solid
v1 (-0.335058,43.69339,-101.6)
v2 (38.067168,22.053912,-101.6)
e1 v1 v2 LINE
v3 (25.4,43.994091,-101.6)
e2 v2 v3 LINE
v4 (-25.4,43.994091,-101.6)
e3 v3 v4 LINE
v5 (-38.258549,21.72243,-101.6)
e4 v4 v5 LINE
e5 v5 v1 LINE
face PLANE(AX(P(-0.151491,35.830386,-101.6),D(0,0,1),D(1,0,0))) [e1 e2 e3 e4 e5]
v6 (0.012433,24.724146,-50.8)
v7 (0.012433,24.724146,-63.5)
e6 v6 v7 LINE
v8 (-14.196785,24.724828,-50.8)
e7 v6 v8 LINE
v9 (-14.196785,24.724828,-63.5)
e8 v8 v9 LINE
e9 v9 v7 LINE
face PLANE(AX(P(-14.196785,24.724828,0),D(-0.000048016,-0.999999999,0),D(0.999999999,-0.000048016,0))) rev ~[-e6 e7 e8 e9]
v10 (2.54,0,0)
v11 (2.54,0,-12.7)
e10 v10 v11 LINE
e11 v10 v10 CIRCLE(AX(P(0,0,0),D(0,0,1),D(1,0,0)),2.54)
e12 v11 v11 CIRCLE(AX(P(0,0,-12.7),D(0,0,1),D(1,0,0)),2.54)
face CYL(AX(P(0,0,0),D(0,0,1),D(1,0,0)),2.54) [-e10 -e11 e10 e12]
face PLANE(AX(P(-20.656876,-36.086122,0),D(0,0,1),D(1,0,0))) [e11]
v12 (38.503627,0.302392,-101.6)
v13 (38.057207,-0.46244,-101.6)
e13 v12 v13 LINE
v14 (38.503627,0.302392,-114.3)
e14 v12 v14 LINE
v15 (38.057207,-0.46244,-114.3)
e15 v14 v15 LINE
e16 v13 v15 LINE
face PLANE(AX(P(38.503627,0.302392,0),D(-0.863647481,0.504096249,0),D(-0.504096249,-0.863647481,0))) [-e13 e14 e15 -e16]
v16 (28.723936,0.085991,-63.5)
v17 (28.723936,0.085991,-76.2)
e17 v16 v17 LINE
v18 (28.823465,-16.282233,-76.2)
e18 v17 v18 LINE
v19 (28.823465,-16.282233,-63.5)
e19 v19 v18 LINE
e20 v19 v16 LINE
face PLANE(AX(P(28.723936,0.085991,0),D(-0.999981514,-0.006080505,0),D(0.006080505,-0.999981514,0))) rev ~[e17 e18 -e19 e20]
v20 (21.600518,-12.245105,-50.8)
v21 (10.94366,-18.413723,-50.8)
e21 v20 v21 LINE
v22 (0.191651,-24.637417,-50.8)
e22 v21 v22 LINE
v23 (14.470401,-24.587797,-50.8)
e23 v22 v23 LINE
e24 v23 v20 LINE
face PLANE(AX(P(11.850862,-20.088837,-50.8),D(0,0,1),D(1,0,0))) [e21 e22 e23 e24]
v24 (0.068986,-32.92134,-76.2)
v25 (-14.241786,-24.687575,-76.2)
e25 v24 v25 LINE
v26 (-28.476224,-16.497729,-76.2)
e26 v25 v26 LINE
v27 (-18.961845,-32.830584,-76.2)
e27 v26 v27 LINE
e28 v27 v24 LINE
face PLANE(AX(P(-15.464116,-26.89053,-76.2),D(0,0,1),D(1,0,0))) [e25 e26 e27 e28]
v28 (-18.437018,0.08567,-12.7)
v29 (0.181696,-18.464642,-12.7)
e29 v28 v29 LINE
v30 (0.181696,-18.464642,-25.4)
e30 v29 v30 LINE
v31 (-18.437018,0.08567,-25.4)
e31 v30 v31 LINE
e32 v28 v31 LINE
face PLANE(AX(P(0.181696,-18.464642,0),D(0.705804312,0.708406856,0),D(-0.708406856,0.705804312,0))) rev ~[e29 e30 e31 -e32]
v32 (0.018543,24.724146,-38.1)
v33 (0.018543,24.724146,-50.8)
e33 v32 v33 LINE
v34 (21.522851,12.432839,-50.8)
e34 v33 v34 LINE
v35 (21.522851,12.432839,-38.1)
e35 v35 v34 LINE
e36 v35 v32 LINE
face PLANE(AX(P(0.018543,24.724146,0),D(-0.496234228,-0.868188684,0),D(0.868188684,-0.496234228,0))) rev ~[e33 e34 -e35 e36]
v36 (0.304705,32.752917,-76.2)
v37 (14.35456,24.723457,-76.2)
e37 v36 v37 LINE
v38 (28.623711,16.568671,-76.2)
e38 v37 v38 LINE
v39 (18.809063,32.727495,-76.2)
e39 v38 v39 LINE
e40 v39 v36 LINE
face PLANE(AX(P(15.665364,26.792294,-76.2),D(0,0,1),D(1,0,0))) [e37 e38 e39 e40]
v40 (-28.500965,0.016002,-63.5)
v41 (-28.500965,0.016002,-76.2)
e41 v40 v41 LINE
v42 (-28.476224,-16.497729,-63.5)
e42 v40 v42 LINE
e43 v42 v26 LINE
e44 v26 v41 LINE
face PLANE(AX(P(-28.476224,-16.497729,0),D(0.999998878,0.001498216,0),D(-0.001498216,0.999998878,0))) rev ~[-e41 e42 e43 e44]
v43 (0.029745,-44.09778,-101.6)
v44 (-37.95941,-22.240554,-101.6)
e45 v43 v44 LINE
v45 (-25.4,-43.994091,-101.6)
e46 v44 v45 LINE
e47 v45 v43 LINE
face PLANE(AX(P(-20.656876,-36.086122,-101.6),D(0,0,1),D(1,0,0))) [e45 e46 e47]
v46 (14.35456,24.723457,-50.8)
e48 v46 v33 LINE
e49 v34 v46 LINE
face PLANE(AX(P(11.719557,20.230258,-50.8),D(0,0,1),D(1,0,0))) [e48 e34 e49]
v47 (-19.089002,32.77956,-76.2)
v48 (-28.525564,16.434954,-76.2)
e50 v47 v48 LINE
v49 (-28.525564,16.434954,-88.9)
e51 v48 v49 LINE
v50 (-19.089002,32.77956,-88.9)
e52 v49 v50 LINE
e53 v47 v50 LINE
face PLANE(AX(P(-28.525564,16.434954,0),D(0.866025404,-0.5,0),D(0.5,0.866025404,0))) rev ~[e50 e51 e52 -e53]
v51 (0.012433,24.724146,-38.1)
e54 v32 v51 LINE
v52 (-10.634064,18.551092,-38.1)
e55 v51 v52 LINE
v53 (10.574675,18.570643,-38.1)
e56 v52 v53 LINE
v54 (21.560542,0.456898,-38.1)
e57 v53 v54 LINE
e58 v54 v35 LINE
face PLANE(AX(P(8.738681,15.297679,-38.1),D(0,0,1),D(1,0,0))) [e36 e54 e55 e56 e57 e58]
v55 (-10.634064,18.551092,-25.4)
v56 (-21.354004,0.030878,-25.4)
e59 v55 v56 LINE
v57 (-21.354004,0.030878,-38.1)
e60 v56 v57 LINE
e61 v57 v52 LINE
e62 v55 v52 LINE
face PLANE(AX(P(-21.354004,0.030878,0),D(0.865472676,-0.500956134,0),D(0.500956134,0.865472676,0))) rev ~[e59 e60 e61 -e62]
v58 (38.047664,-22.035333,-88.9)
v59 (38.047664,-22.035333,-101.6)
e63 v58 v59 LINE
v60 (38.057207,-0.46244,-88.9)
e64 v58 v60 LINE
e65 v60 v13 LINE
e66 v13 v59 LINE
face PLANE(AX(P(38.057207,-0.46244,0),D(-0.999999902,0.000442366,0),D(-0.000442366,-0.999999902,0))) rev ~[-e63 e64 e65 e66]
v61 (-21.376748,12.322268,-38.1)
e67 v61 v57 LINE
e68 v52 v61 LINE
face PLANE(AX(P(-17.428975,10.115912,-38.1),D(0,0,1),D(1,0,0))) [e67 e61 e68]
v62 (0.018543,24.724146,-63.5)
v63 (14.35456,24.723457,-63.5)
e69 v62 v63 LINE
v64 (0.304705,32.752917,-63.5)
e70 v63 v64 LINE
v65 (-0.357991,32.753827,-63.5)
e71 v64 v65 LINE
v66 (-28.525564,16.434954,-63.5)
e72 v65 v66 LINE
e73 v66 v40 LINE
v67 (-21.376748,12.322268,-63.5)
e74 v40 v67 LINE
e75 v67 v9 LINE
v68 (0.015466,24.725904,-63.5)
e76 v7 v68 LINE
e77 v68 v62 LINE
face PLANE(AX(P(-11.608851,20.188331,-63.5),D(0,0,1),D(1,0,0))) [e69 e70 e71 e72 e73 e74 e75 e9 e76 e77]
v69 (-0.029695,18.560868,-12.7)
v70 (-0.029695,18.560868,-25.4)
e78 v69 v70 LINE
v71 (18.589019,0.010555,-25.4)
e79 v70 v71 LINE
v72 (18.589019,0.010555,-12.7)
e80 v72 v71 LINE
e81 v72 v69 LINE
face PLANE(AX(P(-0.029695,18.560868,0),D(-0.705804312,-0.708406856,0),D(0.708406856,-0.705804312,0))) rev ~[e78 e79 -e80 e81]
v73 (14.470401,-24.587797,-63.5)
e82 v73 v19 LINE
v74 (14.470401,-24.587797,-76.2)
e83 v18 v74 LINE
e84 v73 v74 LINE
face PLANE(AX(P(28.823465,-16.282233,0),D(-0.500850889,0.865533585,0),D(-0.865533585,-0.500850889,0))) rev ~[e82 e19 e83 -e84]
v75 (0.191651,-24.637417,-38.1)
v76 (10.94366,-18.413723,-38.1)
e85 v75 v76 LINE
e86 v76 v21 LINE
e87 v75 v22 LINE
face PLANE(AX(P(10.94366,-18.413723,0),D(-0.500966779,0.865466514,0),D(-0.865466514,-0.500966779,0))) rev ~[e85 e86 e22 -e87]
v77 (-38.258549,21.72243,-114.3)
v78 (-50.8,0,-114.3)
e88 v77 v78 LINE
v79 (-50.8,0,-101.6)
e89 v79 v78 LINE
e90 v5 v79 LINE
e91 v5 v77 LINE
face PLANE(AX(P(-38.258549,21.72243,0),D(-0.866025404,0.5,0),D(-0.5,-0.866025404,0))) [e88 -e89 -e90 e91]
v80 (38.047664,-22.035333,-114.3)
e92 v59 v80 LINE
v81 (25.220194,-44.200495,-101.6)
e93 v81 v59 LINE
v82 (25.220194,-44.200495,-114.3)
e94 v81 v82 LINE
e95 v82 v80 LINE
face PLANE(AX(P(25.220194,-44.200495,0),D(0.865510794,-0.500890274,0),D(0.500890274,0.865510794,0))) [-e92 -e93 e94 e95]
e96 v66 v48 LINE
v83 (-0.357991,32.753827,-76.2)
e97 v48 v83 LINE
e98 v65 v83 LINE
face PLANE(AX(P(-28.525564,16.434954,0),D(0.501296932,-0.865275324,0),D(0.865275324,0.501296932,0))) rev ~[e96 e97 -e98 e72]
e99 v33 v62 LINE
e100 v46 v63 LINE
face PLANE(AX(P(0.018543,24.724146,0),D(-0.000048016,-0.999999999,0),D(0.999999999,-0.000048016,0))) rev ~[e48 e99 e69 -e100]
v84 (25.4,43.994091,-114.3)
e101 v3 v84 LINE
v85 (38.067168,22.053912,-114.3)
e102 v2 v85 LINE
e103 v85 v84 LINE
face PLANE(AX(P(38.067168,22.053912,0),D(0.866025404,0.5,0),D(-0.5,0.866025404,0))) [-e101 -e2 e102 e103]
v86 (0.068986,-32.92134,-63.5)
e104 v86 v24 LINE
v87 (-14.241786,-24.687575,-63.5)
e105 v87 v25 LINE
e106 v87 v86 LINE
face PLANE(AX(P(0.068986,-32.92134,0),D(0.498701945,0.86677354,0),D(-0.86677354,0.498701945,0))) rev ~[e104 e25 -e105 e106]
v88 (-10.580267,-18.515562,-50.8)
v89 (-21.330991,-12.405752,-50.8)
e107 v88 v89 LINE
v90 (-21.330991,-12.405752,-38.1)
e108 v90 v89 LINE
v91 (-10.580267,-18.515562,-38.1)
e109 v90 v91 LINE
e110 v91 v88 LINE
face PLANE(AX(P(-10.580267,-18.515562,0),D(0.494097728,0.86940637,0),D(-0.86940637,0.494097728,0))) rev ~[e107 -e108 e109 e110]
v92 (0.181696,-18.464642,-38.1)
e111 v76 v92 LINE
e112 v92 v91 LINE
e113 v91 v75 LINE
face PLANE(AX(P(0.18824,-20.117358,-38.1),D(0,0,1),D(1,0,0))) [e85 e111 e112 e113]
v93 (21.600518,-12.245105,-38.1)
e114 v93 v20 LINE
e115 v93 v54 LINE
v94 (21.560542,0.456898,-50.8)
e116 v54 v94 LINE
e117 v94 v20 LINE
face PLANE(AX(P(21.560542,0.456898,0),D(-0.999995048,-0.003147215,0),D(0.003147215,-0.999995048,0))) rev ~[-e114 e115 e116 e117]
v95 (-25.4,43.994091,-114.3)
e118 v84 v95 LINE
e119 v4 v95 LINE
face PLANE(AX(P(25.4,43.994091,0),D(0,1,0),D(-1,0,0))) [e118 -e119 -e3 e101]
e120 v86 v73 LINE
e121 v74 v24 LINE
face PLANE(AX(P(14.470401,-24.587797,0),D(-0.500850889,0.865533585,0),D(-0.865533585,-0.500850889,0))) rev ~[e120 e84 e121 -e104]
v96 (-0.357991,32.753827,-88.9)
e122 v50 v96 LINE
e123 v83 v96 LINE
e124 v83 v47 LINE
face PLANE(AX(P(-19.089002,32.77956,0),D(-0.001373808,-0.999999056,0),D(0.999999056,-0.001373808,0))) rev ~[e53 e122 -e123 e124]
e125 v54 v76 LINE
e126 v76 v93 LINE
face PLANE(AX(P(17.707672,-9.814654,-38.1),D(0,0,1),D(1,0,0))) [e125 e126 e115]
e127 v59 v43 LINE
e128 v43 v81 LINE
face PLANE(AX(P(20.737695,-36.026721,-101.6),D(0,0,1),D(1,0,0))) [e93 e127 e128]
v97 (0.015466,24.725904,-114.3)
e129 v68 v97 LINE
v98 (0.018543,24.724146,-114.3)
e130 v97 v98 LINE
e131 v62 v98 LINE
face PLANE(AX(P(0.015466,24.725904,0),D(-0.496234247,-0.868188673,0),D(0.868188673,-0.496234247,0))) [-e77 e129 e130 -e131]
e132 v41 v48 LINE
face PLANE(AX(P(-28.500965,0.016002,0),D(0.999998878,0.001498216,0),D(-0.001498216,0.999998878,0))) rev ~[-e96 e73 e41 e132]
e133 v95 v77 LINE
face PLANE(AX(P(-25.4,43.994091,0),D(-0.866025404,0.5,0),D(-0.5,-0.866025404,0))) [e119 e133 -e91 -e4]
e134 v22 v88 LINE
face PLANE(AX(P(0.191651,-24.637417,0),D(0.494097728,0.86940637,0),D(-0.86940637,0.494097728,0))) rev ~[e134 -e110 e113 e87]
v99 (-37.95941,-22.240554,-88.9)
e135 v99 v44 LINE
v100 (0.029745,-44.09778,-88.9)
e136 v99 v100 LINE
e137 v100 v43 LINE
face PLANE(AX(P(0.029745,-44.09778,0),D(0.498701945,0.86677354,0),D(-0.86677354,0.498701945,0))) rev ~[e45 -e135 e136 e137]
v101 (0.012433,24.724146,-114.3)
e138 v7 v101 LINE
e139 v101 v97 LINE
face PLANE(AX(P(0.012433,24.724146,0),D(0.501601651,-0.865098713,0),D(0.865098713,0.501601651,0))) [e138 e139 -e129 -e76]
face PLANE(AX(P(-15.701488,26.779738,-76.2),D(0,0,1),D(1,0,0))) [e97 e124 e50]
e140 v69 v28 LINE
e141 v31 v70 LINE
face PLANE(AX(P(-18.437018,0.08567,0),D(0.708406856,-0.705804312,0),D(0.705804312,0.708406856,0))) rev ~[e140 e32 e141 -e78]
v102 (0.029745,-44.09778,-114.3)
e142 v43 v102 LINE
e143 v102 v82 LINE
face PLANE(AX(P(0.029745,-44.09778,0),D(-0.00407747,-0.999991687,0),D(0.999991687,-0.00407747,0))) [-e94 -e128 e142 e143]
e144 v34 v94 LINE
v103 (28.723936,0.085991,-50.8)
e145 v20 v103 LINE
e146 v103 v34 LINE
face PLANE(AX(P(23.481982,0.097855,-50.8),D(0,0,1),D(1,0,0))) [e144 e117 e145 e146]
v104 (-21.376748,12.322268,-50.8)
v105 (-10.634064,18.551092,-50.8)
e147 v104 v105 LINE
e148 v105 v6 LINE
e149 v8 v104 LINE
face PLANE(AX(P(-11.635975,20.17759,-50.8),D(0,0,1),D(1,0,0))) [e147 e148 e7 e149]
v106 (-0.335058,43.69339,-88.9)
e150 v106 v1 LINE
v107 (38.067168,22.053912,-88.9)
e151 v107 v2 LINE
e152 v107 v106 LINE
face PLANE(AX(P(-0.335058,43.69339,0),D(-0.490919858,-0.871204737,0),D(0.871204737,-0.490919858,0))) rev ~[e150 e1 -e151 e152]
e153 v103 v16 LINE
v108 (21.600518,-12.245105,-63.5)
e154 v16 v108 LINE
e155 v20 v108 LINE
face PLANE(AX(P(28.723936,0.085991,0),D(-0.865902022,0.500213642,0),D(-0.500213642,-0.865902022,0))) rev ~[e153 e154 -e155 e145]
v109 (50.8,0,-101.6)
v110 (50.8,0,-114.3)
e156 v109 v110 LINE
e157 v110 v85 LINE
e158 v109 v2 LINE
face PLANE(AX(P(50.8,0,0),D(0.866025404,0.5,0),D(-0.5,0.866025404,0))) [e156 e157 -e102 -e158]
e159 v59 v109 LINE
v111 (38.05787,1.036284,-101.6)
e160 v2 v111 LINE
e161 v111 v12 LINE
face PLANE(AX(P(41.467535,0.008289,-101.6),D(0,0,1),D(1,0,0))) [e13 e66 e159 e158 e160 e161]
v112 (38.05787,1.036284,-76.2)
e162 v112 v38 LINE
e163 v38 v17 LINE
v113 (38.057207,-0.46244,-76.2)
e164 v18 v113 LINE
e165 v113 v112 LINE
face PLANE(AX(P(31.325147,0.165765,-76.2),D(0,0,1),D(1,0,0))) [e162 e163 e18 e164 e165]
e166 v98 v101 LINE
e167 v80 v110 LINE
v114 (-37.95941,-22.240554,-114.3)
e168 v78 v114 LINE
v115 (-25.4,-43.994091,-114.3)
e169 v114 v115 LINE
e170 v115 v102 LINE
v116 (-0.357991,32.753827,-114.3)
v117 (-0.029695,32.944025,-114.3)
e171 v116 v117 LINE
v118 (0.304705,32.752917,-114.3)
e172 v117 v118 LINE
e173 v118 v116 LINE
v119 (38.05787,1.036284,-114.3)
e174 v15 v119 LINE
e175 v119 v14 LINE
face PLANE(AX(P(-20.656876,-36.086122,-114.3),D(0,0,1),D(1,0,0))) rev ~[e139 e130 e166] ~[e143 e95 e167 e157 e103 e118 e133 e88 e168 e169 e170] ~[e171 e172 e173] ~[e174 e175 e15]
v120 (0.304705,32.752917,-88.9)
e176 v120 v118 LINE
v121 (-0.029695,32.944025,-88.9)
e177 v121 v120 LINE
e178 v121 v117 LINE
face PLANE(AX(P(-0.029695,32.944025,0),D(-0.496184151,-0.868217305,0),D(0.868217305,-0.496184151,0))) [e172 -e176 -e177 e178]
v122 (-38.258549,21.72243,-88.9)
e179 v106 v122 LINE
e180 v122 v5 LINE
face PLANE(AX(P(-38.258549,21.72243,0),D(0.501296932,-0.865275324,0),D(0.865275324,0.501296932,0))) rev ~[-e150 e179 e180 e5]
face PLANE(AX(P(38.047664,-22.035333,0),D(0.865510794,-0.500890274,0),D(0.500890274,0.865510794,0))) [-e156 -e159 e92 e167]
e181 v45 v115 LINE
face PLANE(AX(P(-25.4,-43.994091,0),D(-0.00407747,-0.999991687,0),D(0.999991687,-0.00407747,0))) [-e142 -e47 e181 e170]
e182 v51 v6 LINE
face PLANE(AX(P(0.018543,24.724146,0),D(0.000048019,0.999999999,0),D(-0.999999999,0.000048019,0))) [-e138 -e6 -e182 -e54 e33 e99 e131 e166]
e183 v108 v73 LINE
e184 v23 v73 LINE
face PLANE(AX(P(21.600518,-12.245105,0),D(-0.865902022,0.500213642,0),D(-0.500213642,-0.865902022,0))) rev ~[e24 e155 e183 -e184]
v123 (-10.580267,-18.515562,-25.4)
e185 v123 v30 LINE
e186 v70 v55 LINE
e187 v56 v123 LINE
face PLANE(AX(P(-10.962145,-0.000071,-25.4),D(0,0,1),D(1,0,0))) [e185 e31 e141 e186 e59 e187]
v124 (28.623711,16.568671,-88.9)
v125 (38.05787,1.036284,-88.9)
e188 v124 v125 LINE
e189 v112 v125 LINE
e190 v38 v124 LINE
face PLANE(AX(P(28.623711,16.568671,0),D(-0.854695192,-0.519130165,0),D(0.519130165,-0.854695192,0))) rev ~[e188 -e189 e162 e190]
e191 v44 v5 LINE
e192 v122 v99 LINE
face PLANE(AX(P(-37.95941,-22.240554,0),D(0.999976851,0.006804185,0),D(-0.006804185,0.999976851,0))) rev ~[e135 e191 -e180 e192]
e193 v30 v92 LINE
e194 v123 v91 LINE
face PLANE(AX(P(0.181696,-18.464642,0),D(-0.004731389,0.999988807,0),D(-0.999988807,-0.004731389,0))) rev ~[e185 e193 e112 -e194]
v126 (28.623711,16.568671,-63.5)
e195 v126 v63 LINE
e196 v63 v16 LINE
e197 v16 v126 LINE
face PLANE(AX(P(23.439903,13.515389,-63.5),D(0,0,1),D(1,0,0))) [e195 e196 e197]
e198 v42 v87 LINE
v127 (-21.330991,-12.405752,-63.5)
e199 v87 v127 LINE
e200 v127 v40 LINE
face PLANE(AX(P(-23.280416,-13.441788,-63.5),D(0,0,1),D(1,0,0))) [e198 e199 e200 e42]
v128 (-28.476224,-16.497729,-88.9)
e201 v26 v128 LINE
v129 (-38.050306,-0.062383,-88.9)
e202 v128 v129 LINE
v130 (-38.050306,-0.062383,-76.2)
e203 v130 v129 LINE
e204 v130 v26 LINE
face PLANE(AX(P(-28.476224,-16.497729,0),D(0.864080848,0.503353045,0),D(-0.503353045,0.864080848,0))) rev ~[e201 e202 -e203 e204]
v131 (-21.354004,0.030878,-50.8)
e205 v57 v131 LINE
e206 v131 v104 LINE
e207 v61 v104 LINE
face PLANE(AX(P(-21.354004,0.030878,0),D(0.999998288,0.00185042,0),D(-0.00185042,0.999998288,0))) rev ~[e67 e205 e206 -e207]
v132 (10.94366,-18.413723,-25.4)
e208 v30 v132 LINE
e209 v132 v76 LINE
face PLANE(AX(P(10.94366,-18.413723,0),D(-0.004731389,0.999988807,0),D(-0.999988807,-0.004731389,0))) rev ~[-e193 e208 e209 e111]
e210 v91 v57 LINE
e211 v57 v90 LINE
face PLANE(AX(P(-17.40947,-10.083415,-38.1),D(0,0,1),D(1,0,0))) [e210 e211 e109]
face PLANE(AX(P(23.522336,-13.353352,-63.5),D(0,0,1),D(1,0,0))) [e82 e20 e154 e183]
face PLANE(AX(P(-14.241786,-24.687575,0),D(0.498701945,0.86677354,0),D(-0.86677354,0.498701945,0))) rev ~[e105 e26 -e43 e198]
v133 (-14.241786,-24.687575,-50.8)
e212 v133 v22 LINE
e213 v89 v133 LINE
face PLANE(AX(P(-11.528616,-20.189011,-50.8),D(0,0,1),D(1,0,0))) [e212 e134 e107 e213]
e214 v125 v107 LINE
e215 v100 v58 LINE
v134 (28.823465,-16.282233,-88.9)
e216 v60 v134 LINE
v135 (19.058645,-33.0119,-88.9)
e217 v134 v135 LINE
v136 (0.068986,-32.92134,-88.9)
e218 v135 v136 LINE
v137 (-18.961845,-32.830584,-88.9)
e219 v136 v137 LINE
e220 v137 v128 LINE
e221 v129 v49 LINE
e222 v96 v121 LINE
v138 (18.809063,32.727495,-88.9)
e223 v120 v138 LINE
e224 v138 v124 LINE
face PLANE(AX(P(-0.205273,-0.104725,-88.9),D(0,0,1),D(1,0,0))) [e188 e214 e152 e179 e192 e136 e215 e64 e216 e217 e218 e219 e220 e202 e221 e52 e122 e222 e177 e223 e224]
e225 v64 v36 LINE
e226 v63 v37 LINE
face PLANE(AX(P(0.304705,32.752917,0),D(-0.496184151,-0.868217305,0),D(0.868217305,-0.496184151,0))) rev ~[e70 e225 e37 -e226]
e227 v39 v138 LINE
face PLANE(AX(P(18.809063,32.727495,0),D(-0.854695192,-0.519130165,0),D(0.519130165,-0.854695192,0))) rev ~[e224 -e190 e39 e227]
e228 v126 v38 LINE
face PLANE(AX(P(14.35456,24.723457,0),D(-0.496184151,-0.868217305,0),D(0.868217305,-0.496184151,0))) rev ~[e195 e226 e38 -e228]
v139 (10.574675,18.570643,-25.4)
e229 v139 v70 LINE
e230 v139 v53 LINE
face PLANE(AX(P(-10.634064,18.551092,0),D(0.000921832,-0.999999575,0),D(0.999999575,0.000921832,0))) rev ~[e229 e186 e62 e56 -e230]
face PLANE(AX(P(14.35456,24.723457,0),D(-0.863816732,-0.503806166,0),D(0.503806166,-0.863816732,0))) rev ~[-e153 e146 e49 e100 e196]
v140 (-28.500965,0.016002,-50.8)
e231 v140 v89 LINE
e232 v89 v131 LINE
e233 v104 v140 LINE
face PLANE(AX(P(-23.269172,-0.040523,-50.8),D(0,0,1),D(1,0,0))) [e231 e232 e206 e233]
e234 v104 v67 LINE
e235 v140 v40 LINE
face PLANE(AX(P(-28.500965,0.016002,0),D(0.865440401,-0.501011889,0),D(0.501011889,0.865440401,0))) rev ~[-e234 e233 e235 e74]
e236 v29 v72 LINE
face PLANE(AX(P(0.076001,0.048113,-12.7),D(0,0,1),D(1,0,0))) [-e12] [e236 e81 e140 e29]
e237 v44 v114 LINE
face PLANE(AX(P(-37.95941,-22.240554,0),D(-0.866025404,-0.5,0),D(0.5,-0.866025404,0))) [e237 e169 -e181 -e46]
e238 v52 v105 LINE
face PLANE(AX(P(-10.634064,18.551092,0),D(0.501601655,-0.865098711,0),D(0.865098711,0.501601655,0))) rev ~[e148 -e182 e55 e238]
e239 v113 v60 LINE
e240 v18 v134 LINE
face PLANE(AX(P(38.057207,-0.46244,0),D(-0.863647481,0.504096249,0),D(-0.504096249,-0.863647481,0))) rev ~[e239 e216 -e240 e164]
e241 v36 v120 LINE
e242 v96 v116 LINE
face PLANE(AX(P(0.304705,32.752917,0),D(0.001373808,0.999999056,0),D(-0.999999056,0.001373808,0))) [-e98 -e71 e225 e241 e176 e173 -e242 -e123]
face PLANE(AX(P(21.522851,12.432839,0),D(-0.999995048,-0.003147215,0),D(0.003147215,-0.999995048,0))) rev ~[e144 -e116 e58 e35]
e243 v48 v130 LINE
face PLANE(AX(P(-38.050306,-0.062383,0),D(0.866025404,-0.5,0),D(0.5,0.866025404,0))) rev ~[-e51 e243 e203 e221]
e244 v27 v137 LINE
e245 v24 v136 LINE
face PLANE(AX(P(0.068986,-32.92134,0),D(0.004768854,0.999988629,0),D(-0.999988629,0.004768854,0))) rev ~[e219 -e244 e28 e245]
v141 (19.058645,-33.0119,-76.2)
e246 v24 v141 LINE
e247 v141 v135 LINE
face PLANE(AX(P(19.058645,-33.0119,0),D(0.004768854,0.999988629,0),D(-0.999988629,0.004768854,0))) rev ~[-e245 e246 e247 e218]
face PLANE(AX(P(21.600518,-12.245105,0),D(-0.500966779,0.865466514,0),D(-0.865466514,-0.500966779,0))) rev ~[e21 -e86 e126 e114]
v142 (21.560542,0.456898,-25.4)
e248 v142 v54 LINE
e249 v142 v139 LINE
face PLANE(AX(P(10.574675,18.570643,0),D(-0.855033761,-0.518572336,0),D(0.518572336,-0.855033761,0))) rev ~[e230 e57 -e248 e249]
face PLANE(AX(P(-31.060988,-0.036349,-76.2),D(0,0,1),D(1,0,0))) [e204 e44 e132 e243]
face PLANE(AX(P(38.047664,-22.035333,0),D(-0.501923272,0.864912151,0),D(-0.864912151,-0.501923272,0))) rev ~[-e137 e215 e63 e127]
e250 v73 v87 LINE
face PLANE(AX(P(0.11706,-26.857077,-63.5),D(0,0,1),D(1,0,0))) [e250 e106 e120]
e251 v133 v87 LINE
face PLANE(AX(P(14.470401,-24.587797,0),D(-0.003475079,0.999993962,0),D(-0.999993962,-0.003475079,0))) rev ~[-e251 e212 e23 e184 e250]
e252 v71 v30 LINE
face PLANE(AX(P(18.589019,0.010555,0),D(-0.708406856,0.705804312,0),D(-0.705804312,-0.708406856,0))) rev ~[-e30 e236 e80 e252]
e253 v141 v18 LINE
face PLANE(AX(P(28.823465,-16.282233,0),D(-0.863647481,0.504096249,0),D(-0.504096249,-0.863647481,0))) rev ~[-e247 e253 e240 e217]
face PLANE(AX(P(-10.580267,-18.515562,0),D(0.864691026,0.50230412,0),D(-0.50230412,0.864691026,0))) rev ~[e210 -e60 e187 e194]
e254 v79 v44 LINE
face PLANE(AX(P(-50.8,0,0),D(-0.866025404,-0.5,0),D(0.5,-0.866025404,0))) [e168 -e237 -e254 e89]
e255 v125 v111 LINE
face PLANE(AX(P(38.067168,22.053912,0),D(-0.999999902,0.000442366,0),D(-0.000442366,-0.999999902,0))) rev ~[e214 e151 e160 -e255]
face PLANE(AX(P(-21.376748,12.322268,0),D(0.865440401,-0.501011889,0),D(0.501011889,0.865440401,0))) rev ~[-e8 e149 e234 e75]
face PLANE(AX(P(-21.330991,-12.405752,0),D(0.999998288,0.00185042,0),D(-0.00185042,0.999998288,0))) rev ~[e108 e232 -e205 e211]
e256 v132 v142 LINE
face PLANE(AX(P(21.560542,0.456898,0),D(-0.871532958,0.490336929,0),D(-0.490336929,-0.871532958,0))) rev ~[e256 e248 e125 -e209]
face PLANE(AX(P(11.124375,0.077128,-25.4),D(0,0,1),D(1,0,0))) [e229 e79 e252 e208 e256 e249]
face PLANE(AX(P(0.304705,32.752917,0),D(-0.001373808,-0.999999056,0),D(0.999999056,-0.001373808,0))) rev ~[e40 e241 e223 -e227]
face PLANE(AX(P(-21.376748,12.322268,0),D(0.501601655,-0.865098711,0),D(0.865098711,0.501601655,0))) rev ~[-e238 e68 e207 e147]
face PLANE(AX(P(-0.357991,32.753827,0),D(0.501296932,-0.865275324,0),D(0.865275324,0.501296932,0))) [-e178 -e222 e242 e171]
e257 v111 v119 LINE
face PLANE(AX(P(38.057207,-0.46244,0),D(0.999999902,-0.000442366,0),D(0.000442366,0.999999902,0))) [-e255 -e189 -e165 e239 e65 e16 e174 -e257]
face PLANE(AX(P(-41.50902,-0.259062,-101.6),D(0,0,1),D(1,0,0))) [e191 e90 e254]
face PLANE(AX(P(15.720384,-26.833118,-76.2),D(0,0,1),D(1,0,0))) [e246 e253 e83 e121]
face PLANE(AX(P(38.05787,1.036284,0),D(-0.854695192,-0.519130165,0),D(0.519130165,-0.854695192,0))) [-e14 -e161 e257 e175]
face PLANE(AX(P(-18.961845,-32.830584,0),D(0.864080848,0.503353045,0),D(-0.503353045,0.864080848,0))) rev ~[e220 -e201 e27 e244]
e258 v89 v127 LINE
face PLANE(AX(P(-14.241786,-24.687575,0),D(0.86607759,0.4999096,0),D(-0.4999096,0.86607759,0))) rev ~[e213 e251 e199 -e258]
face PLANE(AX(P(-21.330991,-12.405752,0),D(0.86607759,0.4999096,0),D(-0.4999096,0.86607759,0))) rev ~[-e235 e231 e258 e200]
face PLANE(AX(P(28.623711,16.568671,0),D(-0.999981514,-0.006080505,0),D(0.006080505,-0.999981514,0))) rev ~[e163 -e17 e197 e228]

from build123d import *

# Parameters (mm, degrees)
F0_R     = 2.54
F1_DEPTH = 114.3
F2_DEPTH = 101.6
F3_DEPTH = 88.9
F4_DEPTH = 76.2
F5_DEPTH = 63.5
F6_DEPTH = 50.8
F7_DEPTH = 38.1
F8_DEPTH = 25.4
F9_DEPTH = 12.7


with BuildPart() as f1:
    # F0 (on Top) → F1 (new body)
    with BuildSketch(Plane.XY):
        Polygon((0.0297449546, -44.0977803999), (-37.9594102152, -22.2405539065), (-25.4, -43.9940905122), align=None)
        Polygon((38.0476643122, -22.0353334131), (0.0297449546, -44.0977803999), (25.2201944386, -44.2004945593), align=None)
        Polygon((-0.3350584157, 43.6933898381), (-38.2585494002, 21.7224296395), (-37.9594102152, -22.2405539065), (0.0297449546, -44.0977803999), (38.0476643122, -22.0353334131), (38.0572074327, -0.4624397172), (28.8234651499, -16.2822326428), (19.0586446504, -33.011900152), (0.0689860095, -32.9213402193), (-18.9618453465, -32.8305839378), (-28.4762239518, -16.497728885), (-38.0503063303, -0.0623833689), (-28.5255642951, 16.434953765), (-19.0890015805, 32.7795598355), (-0.3579905366, 32.7538269983), (-0.029694677, 32.9440250808), (0.3047047711, 32.7529165813), (18.8090625796, 32.7274951224), (28.6237113617, 16.568670808), (38.0578704177, 1.0362842578), (38.0671679073, 22.0539121087), align=None)
        Polygon((19.0586446504, -33.011900152), (28.8234651499, -16.2822326428), (14.47040053, -24.5877973202), (0.0689860095, -32.9213402193), align=None)
        Polygon((-18.9618453465, -32.8305839378), (0.0689860095, -32.9213402193), (-14.2417858933, -24.6875750467), (-28.4762239518, -16.497728885), align=None)
        Polygon((0.0689860095, -32.9213402193), (14.47040053, -24.5877973202), (0.1916506856, -24.6374174075), (-14.2417858933, -24.6875750467), align=None)
        Polygon((-14.2417858933, -24.6875750467), (0.1916506856, -24.6374174075), (-10.5802674086, -18.5155618092), (-21.3309908039, -12.4057515018), align=None)
        Polygon((-10.5802674086, -18.5155618092), (0.1916506856, -24.6374174075), (10.9436599796, -18.4137225871), (0.1816962855, -18.4646421982), align=None)
        Polygon((0.1916506856, -24.6374174075), (14.47040053, -24.5877973202), (21.6005177699, -12.2451052788), (10.9436599796, -18.4137225871), align=None)
        Polygon((10.9436599796, -18.4137225871), (21.6005177699, -12.2451052788), (21.5605416369, 0.4568982525), align=None)
        Polygon((10.9436599796, -18.4137225871), (21.5605416369, 0.4568982525), (10.5746748077, 18.5706432099), (-0.029694677, 18.5608677566), (18.5890194076, 0.010555068), (0.1816962855, -18.4646421982), align=None)
        Polygon((14.47040053, -24.5877973202), (28.8234651499, -16.2822326428), (28.7239362394, 0.0859907596), (21.6005177699, -12.2451052788), align=None)
        Polygon((21.6005177699, -12.2451052788), (28.7239362394, 0.0859907596), (21.5228505909, 12.4328389883), (21.5605416369, 0.4568982525), align=None)
        Polygon((38.0572074327, -0.4624397172), (38.0578704177, 1.0362842578), (28.6237113617, 16.568670808), (28.7239362394, 0.0859907596), (28.8234651499, -16.2822326428), align=None)
        Polygon((28.7239362394, 0.0859907596), (28.6237113617, 16.568670808), (14.3545600969, 24.7234572518), (21.5228505909, 12.4328389883), align=None)
        Polygon((14.3545600969, 24.7234572518), (28.6237113617, 16.568670808), (18.8090625796, 32.7274951224), (0.3047047711, 32.7529165813), align=None)
        Polygon((-28.5255642951, 16.434953765), (-0.3579905366, 32.7538269983), (-19.0890015805, 32.7795598355), align=None)
        Polygon((0.0185433098, 24.7241456127), (14.3545600969, 24.7234572518), (0.3047047711, 32.7529165813), (-0.3579905366, 32.7538269983), (-28.5255642951, 16.434953765), (-28.5009651241, 0.0160024937), (-21.37674811, 12.3222678023), (-14.1967849419, 24.7248281787), (0.0124332375, 24.7241459061), (0.0154661396, 24.7259044438), align=None)
        Polygon((-10.6340641617, 18.5510923033), (0.0124332375, 24.7241459061), (-14.1967849419, 24.7248281787), (-21.37674811, 12.3222678023), align=None)
        Polygon((-21.3540038347, 0.0308781616), (-10.6340641617, 18.5510923033), (-21.37674811, 12.3222678023), align=None)
        Polygon((-21.3540038347, 0.0308781616), (-10.5802674086, -18.5155618092), (0.1816962855, -18.4646421982), (-18.437017799, 0.0856704905), (-0.029694677, 18.5608677566), (-10.6340641617, 18.5510923033), align=None)
        Polygon((-18.437017799, 0.0856704905), (0.1816962855, -18.4646421982), (18.5890194076, 0.010555068), (-0.029694677, 18.5608677566), align=None)
        Circle(F0_R, mode=Mode.SUBTRACT)
        Circle(F0_R)
        Polygon((21.5228505909, 12.4328389883), (14.3545600969, 24.7234572518), (0.0185433098, 24.7241456127), align=None)
        Polygon((21.5228505909, 12.4328389883), (0.0185433098, 24.7241456127), (0.0124332375, 24.7241459061), (-10.6340641617, 18.5510923033), (-0.029694677, 18.5608677566), (10.5746748077, 18.5706432099), (21.5605416369, 0.4568982525), align=None)
        Polygon((-28.5009651241, 0.0160024937), (-28.5255642951, 16.434953765), (-38.0503063303, -0.0623833689), (-28.4762239518, -16.497728885), align=None)
        Polygon((-28.4762239518, -16.497728885), (-14.2417858933, -24.6875750467), (-21.3309908039, -12.4057515018), (-28.5009651241, 0.0160024937), align=None)
        Polygon((-28.5009651241, 0.0160024937), (-21.3309908039, -12.4057515018), (-21.3540038347, 0.0308781616), (-21.37674811, 12.3222678023), align=None)
        Polygon((-21.3309908039, -12.4057515018), (-10.5802674086, -18.5155618092), (-21.3540038347, 0.0308781616), align=None)
        Polygon((-37.9594102152, -22.2405539065), (-38.2585494002, 21.7224296395), (-50.8, 0), align=None)
        Polygon((50.8, 0), (38.0671679073, 22.0539121087), (38.0578704177, 1.0362842578), (38.503626573, 0.3023919341), (38.0572074327, -0.4624397172), (38.0476643122, -22.0353334131), align=None)
        Polygon((25.4, 43.9940905122), (-25.4, 43.9940905122), (-38.2585494002, 21.7224296395), (-0.3350584157, 43.6933898381), (38.0671679073, 22.0539121087), align=None)
    extrude(amount=-F1_DEPTH)

    # F0 (on Top) → F2 (cut)
    with BuildSketch(Plane.XY):
        Polygon((25.4, 43.9940905122), (-25.4, 43.9940905122), (-38.2585494002, 21.7224296395), (-0.3350584157, 43.6933898381), (38.0671679073, 22.0539121087), align=None)
        Polygon((38.0476643122, -22.0353334131), (0.0297449546, -44.0977803999), (25.2201944386, -44.2004945593), align=None)
        Polygon((0.0297449546, -44.0977803999), (-37.9594102152, -22.2405539065), (-25.4, -43.9940905122), align=None)
        Polygon((-37.9594102152, -22.2405539065), (-38.2585494002, 21.7224296395), (-50.8, 0), align=None)
        Polygon((50.8, 0), (38.0671679073, 22.0539121087), (38.0578704177, 1.0362842578), (38.503626573, 0.3023919341), (38.0572074327, -0.4624397172), (38.0476643122, -22.0353334131), align=None)
    extrude(amount=-F2_DEPTH, mode=Mode.SUBTRACT)

    # F0 (on Top) → F3 (cut)
    with BuildSketch(Plane.XY):
        Polygon((-0.3350584157, 43.6933898381), (-38.2585494002, 21.7224296395), (-37.9594102152, -22.2405539065), (0.0297449546, -44.0977803999), (38.0476643122, -22.0353334131), (38.0572074327, -0.4624397172), (28.8234651499, -16.2822326428), (19.0586446504, -33.011900152), (0.0689860095, -32.9213402193), (-18.9618453465, -32.8305839378), (-28.4762239518, -16.497728885), (-38.0503063303, -0.0623833689), (-28.5255642951, 16.434953765), (-19.0890015805, 32.7795598355), (-0.3579905366, 32.7538269983), (-0.029694677, 32.9440250808), (0.3047047711, 32.7529165813), (18.8090625796, 32.7274951224), (28.6237113617, 16.568670808), (38.0578704177, 1.0362842578), (38.0671679073, 22.0539121087), align=None)
    extrude(amount=-F3_DEPTH, mode=Mode.SUBTRACT)

    # F0 (on Top) → F4 (cut)
    with BuildSketch(Plane.XY):
        Polygon((-18.9618453465, -32.8305839378), (0.0689860095, -32.9213402193), (-14.2417858933, -24.6875750467), (-28.4762239518, -16.497728885), align=None)
        Polygon((19.0586446504, -33.011900152), (28.8234651499, -16.2822326428), (14.47040053, -24.5877973202), (0.0689860095, -32.9213402193), align=None)
        Polygon((38.0572074327, -0.4624397172), (38.0578704177, 1.0362842578), (28.6237113617, 16.568670808), (28.7239362394, 0.0859907596), (28.8234651499, -16.2822326428), align=None)
        Polygon((14.3545600969, 24.7234572518), (28.6237113617, 16.568670808), (18.8090625796, 32.7274951224), (0.3047047711, 32.7529165813), align=None)
        Polygon((-28.5255642951, 16.434953765), (-0.3579905366, 32.7538269983), (-19.0890015805, 32.7795598355), align=None)
        Polygon((-28.5009651241, 0.0160024937), (-28.5255642951, 16.434953765), (-38.0503063303, -0.0623833689), (-28.4762239518, -16.497728885), align=None)
    extrude(amount=-F4_DEPTH, mode=Mode.SUBTRACT)

    # F0 (on Top) → F5 (cut)
    with BuildSketch(Plane.XY):
        Polygon((0.0185433098, 24.7241456127), (14.3545600969, 24.7234572518), (0.3047047711, 32.7529165813), (-0.3579905366, 32.7538269983), (-28.5255642951, 16.434953765), (-28.5009651241, 0.0160024937), (-21.37674811, 12.3222678023), (-14.1967849419, 24.7248281787), (0.0124332375, 24.7241459061), (0.0154661396, 24.7259044438), align=None)
        Polygon((28.7239362394, 0.0859907596), (28.6237113617, 16.568670808), (14.3545600969, 24.7234572518), (21.5228505909, 12.4328389883), align=None)
        Polygon((14.47040053, -24.5877973202), (28.8234651499, -16.2822326428), (28.7239362394, 0.0859907596), (21.6005177699, -12.2451052788), align=None)
        Polygon((0.0689860095, -32.9213402193), (14.47040053, -24.5877973202), (0.1916506856, -24.6374174075), (-14.2417858933, -24.6875750467), align=None)
        Polygon((-28.4762239518, -16.497728885), (-14.2417858933, -24.6875750467), (-21.3309908039, -12.4057515018), (-28.5009651241, 0.0160024937), align=None)
    extrude(amount=-F5_DEPTH, mode=Mode.SUBTRACT)

    # F0 (on Top) → F6 (cut)
    with BuildSketch(Plane.XY):
        Polygon((-10.6340641617, 18.5510923033), (0.0124332375, 24.7241459061), (-14.1967849419, 24.7248281787), (-21.37674811, 12.3222678023), align=None)
        Polygon((21.5228505909, 12.4328389883), (14.3545600969, 24.7234572518), (0.0185433098, 24.7241456127), align=None)
        Polygon((-28.5009651241, 0.0160024937), (-21.3309908039, -12.4057515018), (-21.3540038347, 0.0308781616), (-21.37674811, 12.3222678023), align=None)
        Polygon((-14.2417858933, -24.6875750467), (0.1916506856, -24.6374174075), (-10.5802674086, -18.5155618092), (-21.3309908039, -12.4057515018), align=None)
        Polygon((0.1916506856, -24.6374174075), (14.47040053, -24.5877973202), (21.6005177699, -12.2451052788), (10.9436599796, -18.4137225871), align=None)
        Polygon((21.6005177699, -12.2451052788), (28.7239362394, 0.0859907596), (21.5228505909, 12.4328389883), (21.5605416369, 0.4568982525), align=None)
    extrude(amount=-F6_DEPTH, mode=Mode.SUBTRACT)

    # F0 (on Top) → F7 (cut)
    with BuildSketch(Plane.XY):
        Polygon((-21.3540038347, 0.0308781616), (-10.6340641617, 18.5510923033), (-21.37674811, 12.3222678023), align=None)
        Polygon((21.5228505909, 12.4328389883), (0.0185433098, 24.7241456127), (0.0124332375, 24.7241459061), (-10.6340641617, 18.5510923033), (-0.029694677, 18.5608677566), (10.5746748077, 18.5706432099), (21.5605416369, 0.4568982525), align=None)
        Polygon((10.9436599796, -18.4137225871), (21.6005177699, -12.2451052788), (21.5605416369, 0.4568982525), align=None)
        Polygon((-10.5802674086, -18.5155618092), (0.1916506856, -24.6374174075), (10.9436599796, -18.4137225871), (0.1816962855, -18.4646421982), align=None)
        Polygon((-21.3309908039, -12.4057515018), (-10.5802674086, -18.5155618092), (-21.3540038347, 0.0308781616), align=None)
    extrude(amount=-F7_DEPTH, mode=Mode.SUBTRACT)

    # F0 (on Top) → F8 (cut)
    with BuildSketch(Plane.XY):
        Polygon((-21.3540038347, 0.0308781616), (-10.5802674086, -18.5155618092), (0.1816962855, -18.4646421982), (-18.437017799, 0.0856704905), (-0.029694677, 18.5608677566), (-10.6340641617, 18.5510923033), align=None)
        Polygon((10.9436599796, -18.4137225871), (21.5605416369, 0.4568982525), (10.5746748077, 18.5706432099), (-0.029694677, 18.5608677566), (18.5890194076, 0.010555068), (0.1816962855, -18.4646421982), align=None)
    extrude(amount=-F8_DEPTH, mode=Mode.SUBTRACT)

    # F0 (on Top) → F9 (cut)
    with BuildSketch(Plane.XY):
        Polygon((-18.437017799, 0.0856704905), (0.1816962855, -18.4646421982), (18.5890194076, 0.010555068), (-0.029694677, 18.5608677566), align=None)
        Circle(F0_R, mode=Mode.SUBTRACT)
    extrude(amount=-F9_DEPTH, mode=Mode.SUBTRACT)


solid = f1.part
